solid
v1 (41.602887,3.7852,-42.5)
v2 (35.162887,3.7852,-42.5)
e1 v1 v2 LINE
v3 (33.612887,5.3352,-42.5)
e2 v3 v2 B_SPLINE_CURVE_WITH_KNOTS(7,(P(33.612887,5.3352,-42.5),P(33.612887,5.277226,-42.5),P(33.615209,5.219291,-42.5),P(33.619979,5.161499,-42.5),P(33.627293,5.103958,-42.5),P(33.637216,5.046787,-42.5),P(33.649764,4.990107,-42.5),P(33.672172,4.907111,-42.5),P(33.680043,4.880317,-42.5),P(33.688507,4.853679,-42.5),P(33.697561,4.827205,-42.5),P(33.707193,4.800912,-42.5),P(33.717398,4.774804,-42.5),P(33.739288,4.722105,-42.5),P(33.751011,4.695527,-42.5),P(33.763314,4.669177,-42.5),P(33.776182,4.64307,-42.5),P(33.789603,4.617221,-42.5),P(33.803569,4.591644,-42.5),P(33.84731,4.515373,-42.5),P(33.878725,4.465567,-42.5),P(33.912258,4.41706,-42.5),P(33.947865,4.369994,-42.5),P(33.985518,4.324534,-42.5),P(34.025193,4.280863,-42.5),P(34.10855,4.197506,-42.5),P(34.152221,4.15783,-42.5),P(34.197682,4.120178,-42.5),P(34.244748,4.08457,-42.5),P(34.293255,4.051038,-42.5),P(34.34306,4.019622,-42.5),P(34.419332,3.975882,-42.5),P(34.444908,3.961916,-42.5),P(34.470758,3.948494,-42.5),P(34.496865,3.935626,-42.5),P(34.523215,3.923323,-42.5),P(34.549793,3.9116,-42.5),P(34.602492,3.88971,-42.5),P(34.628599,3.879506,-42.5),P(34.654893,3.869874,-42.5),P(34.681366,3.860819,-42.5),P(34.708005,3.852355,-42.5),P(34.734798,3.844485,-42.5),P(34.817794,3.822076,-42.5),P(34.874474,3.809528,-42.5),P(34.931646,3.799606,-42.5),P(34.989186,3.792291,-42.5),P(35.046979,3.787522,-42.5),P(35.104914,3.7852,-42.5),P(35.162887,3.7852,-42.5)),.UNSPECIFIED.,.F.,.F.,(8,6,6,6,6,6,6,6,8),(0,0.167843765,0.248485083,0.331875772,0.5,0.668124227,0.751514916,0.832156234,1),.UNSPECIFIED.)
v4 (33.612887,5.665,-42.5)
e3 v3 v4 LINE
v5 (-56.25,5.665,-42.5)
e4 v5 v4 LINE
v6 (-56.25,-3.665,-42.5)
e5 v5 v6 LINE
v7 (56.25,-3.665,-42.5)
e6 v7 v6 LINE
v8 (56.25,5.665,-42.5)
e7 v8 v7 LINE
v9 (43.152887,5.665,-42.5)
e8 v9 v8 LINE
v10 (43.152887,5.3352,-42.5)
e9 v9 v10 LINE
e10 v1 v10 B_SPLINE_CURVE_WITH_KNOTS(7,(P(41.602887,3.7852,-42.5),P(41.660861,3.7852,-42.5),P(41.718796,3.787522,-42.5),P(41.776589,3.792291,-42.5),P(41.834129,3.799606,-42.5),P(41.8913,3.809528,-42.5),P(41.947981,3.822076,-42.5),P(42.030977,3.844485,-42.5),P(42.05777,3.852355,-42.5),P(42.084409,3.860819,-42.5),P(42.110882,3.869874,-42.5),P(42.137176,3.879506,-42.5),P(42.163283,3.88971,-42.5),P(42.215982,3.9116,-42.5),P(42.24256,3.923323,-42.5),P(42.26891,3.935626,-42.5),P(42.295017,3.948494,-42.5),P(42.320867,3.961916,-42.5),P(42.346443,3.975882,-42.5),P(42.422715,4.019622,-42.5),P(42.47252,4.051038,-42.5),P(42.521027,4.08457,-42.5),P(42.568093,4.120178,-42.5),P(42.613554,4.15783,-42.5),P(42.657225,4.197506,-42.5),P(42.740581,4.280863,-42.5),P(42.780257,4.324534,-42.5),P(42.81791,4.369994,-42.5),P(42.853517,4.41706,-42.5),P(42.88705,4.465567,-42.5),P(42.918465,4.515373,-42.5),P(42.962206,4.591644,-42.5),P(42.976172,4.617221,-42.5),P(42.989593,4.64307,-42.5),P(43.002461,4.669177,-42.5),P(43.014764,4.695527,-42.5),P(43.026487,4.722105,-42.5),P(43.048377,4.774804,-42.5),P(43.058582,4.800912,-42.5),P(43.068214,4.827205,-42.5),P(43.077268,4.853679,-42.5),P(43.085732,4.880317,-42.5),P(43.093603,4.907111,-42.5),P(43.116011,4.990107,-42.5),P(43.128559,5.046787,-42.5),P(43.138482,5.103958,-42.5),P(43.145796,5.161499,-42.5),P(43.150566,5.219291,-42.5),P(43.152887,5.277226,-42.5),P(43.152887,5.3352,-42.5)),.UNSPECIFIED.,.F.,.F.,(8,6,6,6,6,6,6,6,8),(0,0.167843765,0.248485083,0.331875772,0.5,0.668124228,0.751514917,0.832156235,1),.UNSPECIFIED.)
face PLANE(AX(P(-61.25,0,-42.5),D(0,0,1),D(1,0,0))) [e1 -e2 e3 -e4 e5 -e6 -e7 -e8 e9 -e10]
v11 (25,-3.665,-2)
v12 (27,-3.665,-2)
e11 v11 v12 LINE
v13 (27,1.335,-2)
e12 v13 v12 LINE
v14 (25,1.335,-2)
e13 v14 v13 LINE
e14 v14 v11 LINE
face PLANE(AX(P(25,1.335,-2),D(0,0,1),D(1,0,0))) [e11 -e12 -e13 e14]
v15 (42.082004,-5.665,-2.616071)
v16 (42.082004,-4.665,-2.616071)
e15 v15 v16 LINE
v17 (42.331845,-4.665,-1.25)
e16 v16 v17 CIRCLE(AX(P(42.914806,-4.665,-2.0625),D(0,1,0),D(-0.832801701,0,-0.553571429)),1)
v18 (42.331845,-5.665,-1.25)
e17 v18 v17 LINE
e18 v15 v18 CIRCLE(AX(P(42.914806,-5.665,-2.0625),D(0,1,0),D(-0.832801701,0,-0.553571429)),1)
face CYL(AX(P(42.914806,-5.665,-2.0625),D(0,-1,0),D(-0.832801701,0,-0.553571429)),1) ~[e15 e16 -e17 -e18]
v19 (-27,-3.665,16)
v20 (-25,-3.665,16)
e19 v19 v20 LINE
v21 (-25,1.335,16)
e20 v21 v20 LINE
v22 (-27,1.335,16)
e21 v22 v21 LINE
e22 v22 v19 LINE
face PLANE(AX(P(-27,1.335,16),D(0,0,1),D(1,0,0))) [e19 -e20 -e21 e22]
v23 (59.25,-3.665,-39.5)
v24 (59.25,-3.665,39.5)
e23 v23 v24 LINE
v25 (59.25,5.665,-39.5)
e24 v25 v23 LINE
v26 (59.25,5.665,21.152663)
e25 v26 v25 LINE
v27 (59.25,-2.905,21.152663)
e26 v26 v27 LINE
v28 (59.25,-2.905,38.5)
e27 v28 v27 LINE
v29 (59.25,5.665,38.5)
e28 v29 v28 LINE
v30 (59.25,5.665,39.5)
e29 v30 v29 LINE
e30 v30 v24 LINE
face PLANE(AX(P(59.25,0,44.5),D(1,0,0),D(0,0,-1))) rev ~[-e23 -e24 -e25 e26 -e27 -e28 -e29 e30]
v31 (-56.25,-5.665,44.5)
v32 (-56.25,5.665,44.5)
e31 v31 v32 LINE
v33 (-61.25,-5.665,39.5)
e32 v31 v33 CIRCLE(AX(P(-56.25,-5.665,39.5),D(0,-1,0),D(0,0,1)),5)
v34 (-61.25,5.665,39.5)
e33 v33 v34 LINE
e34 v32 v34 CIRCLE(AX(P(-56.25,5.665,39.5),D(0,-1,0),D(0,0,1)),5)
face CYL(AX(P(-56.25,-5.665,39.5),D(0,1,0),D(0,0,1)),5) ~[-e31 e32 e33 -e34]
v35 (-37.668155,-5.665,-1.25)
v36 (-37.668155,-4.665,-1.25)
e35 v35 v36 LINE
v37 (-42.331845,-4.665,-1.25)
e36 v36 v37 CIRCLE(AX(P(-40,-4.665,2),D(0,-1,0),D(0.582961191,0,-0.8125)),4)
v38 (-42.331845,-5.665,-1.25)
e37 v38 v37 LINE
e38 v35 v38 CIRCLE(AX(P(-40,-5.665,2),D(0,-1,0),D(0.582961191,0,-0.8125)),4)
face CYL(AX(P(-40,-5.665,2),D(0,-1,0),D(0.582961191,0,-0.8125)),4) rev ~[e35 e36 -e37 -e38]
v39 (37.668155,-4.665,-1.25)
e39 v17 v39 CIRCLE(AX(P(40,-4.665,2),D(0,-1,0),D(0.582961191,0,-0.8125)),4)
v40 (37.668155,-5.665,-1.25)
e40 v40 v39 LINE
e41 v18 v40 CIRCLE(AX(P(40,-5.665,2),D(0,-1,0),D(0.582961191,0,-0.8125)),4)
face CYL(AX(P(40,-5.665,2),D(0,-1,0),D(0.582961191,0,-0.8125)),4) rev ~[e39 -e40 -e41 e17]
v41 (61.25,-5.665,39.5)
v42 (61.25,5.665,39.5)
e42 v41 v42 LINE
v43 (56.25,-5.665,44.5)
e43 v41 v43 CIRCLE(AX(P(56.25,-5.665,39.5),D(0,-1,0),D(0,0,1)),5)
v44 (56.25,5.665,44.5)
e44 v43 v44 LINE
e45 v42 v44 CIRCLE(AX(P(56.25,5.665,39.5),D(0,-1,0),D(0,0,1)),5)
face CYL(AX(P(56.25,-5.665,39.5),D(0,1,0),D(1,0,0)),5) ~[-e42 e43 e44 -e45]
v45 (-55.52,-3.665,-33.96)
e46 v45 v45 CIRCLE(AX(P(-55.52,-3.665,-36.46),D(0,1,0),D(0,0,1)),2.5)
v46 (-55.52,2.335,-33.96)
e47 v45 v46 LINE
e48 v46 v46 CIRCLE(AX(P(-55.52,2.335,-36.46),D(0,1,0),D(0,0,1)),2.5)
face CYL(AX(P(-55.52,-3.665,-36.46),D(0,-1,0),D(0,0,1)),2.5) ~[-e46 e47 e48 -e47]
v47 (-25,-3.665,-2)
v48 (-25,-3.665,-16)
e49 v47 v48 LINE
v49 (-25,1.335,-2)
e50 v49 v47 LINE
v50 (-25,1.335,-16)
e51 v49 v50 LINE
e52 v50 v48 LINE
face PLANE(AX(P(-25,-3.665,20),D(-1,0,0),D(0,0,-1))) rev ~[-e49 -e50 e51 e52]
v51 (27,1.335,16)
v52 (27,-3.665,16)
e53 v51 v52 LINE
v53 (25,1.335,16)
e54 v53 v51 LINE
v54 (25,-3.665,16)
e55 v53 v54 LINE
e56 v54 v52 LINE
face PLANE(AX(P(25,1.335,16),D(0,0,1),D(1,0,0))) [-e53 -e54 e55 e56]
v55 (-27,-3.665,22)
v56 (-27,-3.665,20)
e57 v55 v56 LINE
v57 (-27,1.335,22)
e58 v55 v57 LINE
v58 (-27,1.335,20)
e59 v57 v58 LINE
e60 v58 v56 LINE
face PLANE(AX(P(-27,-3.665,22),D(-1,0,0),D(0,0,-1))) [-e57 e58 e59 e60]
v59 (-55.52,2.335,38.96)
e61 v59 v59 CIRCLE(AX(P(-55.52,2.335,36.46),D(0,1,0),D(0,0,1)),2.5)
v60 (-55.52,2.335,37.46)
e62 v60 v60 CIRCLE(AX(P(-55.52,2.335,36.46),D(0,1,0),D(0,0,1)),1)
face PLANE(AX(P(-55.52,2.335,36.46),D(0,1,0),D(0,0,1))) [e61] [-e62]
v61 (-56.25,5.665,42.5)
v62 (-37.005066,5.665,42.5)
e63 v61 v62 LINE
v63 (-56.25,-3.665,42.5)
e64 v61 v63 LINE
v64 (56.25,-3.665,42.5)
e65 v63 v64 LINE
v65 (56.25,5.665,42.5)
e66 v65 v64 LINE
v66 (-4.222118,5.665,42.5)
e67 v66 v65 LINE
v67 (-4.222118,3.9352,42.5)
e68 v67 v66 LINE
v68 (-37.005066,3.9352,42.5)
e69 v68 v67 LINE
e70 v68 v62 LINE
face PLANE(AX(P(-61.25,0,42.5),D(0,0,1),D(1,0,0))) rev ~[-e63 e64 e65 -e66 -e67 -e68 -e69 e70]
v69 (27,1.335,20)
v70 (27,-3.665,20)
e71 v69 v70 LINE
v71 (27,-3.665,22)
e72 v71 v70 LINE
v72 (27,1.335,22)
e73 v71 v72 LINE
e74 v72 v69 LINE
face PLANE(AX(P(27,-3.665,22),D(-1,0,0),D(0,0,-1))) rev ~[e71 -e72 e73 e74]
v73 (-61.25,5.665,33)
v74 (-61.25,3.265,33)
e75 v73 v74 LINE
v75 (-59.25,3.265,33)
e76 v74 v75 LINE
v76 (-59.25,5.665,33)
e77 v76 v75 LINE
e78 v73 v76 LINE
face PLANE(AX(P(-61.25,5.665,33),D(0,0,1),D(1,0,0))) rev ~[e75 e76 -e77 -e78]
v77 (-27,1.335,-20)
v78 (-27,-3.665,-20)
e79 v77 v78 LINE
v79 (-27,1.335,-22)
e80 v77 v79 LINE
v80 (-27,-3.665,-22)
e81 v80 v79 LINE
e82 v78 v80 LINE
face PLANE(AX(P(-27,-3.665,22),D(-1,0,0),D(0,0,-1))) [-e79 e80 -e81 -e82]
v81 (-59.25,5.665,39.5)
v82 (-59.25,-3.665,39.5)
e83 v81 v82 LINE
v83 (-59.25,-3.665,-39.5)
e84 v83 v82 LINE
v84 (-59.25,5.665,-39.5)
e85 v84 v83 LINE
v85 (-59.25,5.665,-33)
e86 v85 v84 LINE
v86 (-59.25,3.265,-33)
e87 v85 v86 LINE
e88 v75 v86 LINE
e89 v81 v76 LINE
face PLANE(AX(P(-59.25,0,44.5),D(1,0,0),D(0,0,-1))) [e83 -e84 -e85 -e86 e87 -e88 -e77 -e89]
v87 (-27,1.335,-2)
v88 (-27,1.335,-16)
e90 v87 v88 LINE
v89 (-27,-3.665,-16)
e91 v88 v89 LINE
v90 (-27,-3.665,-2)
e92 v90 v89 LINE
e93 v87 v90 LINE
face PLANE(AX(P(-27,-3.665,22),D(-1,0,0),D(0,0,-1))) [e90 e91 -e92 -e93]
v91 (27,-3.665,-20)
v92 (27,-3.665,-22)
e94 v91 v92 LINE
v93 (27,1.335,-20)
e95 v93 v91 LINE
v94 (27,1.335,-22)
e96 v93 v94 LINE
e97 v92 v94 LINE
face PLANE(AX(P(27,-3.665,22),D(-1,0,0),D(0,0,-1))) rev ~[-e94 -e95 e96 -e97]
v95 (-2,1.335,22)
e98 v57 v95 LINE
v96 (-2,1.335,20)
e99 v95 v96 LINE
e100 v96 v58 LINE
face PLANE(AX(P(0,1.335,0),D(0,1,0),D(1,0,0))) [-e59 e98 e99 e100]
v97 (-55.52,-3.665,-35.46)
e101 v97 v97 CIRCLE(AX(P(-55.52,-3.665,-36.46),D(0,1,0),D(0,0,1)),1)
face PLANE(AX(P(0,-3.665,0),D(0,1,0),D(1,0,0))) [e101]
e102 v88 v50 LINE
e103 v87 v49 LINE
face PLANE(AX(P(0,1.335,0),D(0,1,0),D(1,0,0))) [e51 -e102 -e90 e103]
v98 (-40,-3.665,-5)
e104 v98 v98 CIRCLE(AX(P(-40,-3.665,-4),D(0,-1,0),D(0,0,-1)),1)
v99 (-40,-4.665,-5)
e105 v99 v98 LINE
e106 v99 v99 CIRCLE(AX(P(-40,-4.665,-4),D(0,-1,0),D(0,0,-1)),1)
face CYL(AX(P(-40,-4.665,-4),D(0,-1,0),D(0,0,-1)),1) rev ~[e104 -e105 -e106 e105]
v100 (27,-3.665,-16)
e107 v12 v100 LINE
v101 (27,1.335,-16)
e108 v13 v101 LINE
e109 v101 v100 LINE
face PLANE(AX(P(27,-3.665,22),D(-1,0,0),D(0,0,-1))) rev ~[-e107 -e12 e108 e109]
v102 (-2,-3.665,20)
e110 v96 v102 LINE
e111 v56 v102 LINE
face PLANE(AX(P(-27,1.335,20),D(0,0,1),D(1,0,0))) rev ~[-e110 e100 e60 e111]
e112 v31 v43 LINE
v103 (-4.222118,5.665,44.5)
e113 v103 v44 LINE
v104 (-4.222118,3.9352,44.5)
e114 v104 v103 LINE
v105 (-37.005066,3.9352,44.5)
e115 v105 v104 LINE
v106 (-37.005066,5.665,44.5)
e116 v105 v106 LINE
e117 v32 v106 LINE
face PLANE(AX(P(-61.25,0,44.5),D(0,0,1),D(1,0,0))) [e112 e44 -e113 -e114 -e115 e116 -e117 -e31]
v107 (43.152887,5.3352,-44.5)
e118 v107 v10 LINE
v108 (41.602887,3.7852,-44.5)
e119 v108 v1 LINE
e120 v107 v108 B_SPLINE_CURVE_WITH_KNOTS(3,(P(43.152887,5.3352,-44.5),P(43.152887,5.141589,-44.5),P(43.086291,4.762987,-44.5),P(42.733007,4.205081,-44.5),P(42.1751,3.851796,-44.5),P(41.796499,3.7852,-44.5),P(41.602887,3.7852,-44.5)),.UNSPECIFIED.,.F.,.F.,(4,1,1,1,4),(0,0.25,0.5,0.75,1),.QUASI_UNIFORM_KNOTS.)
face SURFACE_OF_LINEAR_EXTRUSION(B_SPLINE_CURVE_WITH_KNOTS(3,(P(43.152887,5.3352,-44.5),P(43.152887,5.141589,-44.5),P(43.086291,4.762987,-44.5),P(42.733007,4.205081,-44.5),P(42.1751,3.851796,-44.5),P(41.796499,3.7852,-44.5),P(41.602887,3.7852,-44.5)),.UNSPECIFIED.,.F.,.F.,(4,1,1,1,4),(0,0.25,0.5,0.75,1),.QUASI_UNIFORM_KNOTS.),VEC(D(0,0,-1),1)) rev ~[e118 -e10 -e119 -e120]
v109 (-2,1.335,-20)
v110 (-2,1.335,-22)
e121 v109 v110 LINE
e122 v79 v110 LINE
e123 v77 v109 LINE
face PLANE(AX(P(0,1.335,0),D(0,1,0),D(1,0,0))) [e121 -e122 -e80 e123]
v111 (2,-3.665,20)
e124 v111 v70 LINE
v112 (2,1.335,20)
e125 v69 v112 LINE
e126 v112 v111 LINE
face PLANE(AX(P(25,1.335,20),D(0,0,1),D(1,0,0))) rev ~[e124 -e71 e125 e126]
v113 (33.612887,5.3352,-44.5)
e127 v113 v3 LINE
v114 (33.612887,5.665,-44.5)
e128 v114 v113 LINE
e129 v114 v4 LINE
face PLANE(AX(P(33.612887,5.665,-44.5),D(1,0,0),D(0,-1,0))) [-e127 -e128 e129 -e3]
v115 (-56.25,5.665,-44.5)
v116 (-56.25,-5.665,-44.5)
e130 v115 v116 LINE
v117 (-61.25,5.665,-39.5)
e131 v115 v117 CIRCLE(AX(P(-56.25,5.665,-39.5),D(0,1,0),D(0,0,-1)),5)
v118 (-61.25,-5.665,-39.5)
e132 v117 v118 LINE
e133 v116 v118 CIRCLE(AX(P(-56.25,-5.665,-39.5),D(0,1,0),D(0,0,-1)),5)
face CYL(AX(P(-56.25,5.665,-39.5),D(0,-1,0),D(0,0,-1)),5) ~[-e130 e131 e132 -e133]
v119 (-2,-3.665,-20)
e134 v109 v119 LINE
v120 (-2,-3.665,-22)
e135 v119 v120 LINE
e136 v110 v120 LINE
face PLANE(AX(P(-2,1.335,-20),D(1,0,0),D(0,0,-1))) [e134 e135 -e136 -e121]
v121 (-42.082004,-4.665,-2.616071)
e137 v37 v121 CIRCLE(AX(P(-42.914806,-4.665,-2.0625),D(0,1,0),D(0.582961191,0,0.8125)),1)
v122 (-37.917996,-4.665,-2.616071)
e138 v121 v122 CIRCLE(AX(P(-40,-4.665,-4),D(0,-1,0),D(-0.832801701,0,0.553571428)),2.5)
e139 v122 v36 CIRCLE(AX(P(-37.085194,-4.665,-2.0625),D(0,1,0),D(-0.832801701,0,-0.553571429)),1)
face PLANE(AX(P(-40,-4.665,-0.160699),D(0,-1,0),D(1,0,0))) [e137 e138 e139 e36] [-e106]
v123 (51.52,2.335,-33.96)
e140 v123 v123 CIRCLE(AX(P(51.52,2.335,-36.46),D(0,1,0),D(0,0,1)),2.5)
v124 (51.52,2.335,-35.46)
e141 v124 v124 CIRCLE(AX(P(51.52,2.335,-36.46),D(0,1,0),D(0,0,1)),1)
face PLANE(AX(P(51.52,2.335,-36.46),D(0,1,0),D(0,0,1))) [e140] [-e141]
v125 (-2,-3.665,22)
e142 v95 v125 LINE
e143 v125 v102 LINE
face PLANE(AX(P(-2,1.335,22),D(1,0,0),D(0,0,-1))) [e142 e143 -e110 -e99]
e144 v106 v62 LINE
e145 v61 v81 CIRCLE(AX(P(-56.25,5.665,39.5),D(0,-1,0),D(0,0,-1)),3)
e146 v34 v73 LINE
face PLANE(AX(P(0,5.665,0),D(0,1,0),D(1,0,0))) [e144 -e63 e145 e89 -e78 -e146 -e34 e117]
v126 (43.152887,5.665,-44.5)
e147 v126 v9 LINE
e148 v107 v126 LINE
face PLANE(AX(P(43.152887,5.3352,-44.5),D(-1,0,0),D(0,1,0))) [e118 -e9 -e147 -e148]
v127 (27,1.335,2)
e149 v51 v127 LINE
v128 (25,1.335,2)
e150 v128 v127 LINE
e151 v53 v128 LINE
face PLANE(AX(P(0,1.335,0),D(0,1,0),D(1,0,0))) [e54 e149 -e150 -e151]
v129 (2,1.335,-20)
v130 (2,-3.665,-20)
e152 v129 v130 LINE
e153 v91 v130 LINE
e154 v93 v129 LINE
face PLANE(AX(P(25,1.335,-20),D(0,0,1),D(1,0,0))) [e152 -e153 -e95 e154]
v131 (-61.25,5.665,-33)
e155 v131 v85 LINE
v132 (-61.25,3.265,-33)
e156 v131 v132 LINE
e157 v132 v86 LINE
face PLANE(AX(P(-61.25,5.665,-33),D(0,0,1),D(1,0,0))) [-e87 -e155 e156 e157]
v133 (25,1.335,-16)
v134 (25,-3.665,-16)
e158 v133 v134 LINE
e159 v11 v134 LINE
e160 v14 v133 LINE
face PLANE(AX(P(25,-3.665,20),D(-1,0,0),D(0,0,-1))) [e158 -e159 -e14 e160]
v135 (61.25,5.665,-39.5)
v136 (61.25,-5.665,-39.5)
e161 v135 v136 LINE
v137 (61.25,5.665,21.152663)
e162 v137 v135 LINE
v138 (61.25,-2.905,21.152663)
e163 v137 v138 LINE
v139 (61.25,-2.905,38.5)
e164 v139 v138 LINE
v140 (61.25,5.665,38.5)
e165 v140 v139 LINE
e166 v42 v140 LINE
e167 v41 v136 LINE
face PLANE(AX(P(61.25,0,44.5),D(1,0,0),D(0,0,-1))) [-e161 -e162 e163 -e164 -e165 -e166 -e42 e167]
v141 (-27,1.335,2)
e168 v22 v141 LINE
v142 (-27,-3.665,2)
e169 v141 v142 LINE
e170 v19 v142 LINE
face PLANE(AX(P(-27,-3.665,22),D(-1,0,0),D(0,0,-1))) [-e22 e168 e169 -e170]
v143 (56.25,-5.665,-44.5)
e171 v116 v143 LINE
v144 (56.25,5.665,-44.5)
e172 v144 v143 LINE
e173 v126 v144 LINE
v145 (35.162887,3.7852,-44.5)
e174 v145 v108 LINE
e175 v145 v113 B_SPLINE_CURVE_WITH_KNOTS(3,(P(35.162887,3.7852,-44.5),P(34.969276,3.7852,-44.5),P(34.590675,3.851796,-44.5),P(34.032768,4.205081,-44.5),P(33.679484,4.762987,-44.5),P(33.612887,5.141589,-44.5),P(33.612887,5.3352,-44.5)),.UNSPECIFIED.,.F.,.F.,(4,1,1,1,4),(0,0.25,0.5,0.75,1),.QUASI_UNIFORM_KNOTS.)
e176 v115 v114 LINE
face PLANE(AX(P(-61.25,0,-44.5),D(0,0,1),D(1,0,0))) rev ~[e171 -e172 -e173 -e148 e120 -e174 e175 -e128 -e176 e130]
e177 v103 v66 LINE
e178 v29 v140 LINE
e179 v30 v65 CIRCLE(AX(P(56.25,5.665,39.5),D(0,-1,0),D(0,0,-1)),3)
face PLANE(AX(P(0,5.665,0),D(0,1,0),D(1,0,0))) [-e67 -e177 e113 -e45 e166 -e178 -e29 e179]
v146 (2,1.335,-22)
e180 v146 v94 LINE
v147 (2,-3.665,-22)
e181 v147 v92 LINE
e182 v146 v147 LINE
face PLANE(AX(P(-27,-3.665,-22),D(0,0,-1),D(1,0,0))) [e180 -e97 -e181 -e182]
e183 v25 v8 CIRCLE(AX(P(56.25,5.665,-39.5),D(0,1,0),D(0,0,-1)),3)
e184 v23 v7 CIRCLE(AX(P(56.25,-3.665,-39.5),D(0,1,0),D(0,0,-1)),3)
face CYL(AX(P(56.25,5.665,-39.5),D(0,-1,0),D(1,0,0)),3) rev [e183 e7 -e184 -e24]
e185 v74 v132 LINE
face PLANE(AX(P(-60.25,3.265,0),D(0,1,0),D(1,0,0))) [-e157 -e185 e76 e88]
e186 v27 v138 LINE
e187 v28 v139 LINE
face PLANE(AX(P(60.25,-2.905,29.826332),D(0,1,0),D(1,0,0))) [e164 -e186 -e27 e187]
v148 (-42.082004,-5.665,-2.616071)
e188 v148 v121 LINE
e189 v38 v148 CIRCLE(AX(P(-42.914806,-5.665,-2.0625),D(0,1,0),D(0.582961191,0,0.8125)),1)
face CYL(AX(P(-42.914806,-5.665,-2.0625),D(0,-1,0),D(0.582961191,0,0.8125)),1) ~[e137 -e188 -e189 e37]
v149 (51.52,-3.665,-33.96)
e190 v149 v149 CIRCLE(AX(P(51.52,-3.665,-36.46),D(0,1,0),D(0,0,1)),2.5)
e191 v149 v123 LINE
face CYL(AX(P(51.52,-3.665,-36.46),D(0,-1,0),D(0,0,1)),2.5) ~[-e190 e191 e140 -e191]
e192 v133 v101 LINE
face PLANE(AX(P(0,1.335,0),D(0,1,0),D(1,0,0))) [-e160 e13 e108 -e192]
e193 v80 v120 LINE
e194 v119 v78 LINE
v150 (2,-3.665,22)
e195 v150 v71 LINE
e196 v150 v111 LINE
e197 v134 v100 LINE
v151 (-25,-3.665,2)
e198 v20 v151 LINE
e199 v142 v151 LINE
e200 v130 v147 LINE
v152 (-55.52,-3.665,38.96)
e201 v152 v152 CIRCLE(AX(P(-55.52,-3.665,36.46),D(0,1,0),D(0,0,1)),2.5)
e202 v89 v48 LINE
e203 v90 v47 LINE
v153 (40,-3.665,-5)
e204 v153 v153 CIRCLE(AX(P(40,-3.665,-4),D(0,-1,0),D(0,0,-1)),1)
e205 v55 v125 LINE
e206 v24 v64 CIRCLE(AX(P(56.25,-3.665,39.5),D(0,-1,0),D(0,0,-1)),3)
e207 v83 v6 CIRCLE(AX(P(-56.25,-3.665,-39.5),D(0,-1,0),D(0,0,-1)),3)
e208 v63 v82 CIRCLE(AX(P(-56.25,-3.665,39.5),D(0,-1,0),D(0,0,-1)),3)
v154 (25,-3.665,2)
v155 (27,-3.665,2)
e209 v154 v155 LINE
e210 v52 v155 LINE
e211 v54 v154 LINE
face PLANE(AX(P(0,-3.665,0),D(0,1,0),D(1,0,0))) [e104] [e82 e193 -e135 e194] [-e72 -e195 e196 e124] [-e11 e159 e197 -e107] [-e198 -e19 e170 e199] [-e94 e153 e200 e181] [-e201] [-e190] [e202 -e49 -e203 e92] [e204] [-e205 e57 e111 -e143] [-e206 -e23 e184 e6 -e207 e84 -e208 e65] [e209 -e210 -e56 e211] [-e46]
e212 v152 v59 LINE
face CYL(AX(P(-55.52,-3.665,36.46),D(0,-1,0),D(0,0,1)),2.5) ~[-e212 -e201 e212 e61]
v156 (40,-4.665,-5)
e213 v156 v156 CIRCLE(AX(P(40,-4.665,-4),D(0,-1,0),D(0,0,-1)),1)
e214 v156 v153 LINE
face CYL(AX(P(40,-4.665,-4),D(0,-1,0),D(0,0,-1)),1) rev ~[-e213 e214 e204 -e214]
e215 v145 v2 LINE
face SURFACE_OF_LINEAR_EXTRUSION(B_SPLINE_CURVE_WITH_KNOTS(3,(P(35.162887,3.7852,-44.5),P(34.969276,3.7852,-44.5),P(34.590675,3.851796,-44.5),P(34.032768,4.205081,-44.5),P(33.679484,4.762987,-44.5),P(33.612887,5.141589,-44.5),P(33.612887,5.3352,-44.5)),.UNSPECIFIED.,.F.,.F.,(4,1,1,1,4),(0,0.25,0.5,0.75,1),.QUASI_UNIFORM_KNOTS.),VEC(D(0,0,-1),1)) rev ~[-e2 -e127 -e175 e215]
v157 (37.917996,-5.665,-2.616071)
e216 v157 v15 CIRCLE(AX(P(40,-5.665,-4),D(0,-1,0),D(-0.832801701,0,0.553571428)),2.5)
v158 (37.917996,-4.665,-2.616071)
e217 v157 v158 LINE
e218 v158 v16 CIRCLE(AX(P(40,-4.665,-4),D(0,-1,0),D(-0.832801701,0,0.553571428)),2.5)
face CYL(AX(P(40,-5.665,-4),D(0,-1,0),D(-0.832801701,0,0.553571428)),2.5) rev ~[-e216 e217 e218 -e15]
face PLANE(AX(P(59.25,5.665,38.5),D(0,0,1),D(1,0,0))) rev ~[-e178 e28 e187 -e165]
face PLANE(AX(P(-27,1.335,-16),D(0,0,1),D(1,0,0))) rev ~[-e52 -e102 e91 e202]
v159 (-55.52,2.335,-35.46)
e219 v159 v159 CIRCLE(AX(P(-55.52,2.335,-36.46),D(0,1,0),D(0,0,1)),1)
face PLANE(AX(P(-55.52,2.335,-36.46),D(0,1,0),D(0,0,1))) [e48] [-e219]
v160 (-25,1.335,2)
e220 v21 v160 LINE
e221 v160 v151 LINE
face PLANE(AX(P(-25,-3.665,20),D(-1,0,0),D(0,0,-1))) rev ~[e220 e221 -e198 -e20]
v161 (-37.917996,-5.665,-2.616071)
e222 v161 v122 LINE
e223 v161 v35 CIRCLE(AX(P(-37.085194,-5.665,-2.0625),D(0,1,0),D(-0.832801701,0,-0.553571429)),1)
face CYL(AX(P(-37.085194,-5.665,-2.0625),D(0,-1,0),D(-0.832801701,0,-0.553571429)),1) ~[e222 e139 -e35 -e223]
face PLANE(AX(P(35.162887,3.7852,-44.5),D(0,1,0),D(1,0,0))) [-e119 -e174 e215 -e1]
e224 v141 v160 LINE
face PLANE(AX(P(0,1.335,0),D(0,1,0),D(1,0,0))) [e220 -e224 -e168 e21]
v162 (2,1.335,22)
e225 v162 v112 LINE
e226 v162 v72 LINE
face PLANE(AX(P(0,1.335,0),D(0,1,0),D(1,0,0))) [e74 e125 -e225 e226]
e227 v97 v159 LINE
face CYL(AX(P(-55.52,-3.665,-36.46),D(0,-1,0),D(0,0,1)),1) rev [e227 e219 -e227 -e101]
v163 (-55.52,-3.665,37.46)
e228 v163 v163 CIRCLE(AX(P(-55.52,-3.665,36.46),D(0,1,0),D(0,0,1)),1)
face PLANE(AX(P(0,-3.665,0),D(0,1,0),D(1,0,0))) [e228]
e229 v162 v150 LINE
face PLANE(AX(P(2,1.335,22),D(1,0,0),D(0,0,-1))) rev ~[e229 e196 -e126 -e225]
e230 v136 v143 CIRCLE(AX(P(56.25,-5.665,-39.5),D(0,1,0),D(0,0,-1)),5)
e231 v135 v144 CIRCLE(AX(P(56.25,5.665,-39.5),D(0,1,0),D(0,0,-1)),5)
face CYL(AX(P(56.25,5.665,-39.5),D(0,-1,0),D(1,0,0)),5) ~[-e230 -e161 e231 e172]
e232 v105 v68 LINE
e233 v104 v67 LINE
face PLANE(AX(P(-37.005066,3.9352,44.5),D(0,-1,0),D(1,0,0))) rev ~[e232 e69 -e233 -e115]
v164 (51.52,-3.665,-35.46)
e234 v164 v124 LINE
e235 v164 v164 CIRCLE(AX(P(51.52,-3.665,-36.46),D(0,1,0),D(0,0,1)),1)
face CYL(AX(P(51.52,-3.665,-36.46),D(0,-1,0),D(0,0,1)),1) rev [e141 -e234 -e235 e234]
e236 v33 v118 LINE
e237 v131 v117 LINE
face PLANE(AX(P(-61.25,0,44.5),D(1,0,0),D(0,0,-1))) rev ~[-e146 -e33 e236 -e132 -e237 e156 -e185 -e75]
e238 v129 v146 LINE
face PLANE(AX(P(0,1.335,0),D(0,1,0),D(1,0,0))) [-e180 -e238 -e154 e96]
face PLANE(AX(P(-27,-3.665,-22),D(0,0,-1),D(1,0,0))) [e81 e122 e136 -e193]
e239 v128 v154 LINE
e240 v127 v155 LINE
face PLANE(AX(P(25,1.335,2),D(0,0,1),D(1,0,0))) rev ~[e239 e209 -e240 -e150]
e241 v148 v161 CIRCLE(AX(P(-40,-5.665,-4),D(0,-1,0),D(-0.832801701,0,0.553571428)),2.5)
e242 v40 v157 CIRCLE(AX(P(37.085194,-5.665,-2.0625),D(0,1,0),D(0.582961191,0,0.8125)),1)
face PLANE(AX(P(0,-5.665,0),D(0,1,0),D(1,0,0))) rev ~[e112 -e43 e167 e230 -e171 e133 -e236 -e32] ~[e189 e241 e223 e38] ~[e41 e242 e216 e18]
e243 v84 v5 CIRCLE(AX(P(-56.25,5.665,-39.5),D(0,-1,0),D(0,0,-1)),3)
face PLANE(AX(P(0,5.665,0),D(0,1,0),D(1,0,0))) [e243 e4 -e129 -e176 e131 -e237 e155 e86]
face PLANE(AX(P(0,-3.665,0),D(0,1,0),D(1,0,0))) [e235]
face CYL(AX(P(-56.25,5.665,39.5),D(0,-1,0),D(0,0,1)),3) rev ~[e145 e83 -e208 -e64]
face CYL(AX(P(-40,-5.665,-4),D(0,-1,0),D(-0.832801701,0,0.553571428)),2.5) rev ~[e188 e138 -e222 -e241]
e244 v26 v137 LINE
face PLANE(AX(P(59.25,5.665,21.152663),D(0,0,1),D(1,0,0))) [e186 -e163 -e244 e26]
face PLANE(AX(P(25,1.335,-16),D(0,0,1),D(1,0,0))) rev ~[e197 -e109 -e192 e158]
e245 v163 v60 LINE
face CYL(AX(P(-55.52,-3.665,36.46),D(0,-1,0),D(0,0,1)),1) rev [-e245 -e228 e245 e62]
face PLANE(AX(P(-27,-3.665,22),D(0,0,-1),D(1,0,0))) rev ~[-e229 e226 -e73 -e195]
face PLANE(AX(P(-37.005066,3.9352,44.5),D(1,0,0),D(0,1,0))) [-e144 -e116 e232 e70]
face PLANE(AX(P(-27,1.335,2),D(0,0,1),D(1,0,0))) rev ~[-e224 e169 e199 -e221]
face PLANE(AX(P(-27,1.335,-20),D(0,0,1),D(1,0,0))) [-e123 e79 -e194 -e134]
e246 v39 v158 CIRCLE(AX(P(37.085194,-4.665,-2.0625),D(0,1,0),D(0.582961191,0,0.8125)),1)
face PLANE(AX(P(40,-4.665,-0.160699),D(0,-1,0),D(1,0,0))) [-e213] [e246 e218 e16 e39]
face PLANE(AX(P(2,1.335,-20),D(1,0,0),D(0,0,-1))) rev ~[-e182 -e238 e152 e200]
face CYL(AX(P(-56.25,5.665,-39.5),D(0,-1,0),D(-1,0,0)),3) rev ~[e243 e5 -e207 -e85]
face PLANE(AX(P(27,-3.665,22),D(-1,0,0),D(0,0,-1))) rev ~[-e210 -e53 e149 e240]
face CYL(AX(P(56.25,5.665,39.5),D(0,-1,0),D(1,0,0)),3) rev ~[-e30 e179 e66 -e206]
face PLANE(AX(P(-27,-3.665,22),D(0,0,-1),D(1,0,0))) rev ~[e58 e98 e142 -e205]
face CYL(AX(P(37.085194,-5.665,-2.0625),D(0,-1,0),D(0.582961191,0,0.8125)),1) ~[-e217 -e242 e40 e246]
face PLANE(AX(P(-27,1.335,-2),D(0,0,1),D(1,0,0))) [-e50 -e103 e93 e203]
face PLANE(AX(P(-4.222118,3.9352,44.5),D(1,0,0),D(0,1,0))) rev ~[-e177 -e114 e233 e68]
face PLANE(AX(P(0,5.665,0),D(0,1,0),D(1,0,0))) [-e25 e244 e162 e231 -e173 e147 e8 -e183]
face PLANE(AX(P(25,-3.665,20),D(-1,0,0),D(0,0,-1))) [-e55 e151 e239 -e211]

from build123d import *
from OCP.BRepFilletAPI import BRepFilletAPI_MakeFillet

# Parameters (mm, degrees)
SKETCH1_W           = 122.5
SKETCH1_H           = 89
BOSS_EXTRUDE1_DEPTH = 5.665
SHELL1_T            = -2
SKETCH2_R           = 2.5
SKETCH2_R_2         = 1
BOSS_EXTRUDE2_DEPTH = 6
FILLET1_R1          = 3
FILLET1_R2          = 5
SKETCH6_W           = 2
SKETCH6_H           = 66
CUT_EXTRUDE1_DEPTH  = 2.4
SKETCH7_W           = 2
SKETCH7_H           = 17.347336969
CUT_EXTRUDE2_DEPTH  = 8.57
CUT_EXTRUDE5_DEPTH  = 10
SKETCH13_W          = 32.782947734
SKETCH13_H          = 2.623502387
CUT_EXTRUDE6_DEPTH  = 10
SKETCH14_W          = 54
SKETCH14_H          = 44
SKETCH14_W_2        = 50
SKETCH14_H_2        = 40
BOSS_EXTRUDE3_DEPTH = 5
SKETCH15_W          = 2
SKETCH15_H          = 4
SKETCH15_W_2        = 4
SKETCH15_H_2        = 2
CUT_EXTRUDE7_DEPTH  = 5
CUT_EXTRUDE9_DEPTH  = 1
SKETCH17_R          = 1
CUT_EXTRUDE10_DEPTH = 1


with BuildPart() as part:
    # Sketch1 → Boss-Extrude1 (new, symmetric)
    with BuildSketch(Plane(origin=(0, 0, 0), x_dir=(1, 0, 0), z_dir=(0, 1, 0))):
        Rectangle(SKETCH1_W, SKETCH1_H)
    extrude(amount=BOSS_EXTRUDE1_DEPTH, both=True)

    # Shell1
    shell1_openings = [part.faces().sort_by_distance(p)[0] for p in [
        (0, 5.665, 0),
    ]]
    offset(amount=SHELL1_T, openings=shell1_openings, kind=Kind.INTERSECTION)

    # Sketch2 → Boss-Extrude2 (add)
    # profile 1 of 3: a face of its own
    with BuildSketch(Plane(origin=(0, -3.665, 0), x_dir=(1, 0, 0), z_dir=(0, 1, 0))):
        with Locations((-55.52, 36.46)):
            Circle(SKETCH2_R)
        with Locations((-55.52, 36.46)):
            Circle(SKETCH2_R_2, mode=Mode.SUBTRACT)
    # profile 2 of 3: a face of its own
    with BuildSketch(Plane(origin=(0, -3.665, 0), x_dir=(1, 0, 0), z_dir=(0, 1, 0))):
        with Locations((51.52, 36.46)):
            Circle(SKETCH2_R)
        with Locations((51.52, 36.46)):
            Circle(SKETCH2_R_2, mode=Mode.SUBTRACT)
    # profile 3 of 3: a face of its own
    with BuildSketch(Plane(origin=(0, -3.665, 0), x_dir=(1, 0, 0), z_dir=(0, 1, 0))):
        with Locations((-55.52, -36.46)):
            Circle(SKETCH2_R)
        with Locations((-55.52, -36.46)):
            Circle(SKETCH2_R_2, mode=Mode.SUBTRACT)
    extrude(amount=BOSS_EXTRUDE2_DEPTH)

    # Fillet1: one fillet with a radius per group of edges: ONE call of the kernel's fillet builder (fillet() takes one radius for all edges)
    fillet1_edges_1 = [part.edges().sort_by_distance(p)[0] for p in [
        (-59.25, 1, -42.5),
        (59.25, 1, -42.5),
        (59.25, 1, 42.5),
        (-59.25, 1, 42.5),
    ]]
    fillet1_edges_2 = [part.edges().sort_by_distance(p)[0] for p in [
        (-61.25, 0, -44.5),
        (61.25, 0, -44.5),
        (61.25, 0, 44.5),
        (-61.25, 0, 44.5),
    ]]
    fillet1 = BRepFilletAPI_MakeFillet(part.part.solid().wrapped)
    for e in fillet1_edges_1:
        fillet1.Add(FILLET1_R1, e.wrapped)
    for e in fillet1_edges_2:
        fillet1.Add(FILLET1_R2, e.wrapped)
    add(Compound.cast(fillet1.Shape()), mode=Mode.REPLACE)

    # Sketch6 → Cut-Extrude1 (cut)
    with BuildSketch(Plane(origin=(0, 5.665, 0), x_dir=(1, 0, 0), z_dir=(0, 1, 0))):
        with Locations((-60.25, 0)):
            Rectangle(SKETCH6_W, SKETCH6_H)
    extrude(amount=-CUT_EXTRUDE1_DEPTH, mode=Mode.SUBTRACT)

    # Sketch7 → Cut-Extrude2 (cut)
    with BuildSketch(Plane(origin=(0, 5.665, 0), x_dir=(1, 0, 0), z_dir=(0, 1, 0))):
        with Locations((60.25, -29.826331516)):
            Rectangle(SKETCH7_W, SKETCH7_H)
    extrude(amount=-CUT_EXTRUDE2_DEPTH, mode=Mode.SUBTRACT)

    # Sketch12 → Cut-Extrude5 (cut)
    with BuildSketch(Plane(origin=(0, 0, -44.5), x_dir=(-1, 0, 0), z_dir=(0, 0, -1))):
        with BuildLine():
            Line((-42.852887486, 5.665199886), (-33.912887486, 5.665199886))
            Line((-33.912887486, 5.665199886), (-33.612887486, 5.665))
            Line((-33.612887486, 5.665), (-33.612887486, 5.335199886))
            add(Edge.make_bspline(
                [(-35.162887486, 3.785199886), (-34.969276417, 3.785199886), (-34.590674628, 3.851796456), (-34.032768291, 4.205080692), (-33.679484056, 4.762987029), (-33.612887486, 5.141588818), (-33.612887486, 5.335199886)],
                knots=[0, 0, 0, 0, 0.25, 0.5, 0.75, 1, 1, 1, 1], degree=3))
            Line((-35.162887486, 3.785199886), (-41.602887486, 3.785199886))
            add(Edge.make_bspline(
                [(-43.152887486, 5.335199886), (-43.152887486, 5.141588818), (-43.086290916, 4.762987029), (-42.73300668, 4.205080692), (-42.175100343, 3.851796456), (-41.796498554, 3.785199886), (-41.602887486, 3.785199886)],
                knots=[0, 0, 0, 0, 0.25, 0.5, 0.75, 1, 1, 1, 1], degree=3))
            Line((-43.152887486, 5.335199886), (-43.152887486, 5.665))
            Line((-43.152887486, 5.665), (-42.852887486, 5.665199886))
        make_face()
    extrude(amount=-CUT_EXTRUDE5_DEPTH, mode=Mode.SUBTRACT)

    # Sketch13 → Cut-Extrude6 (cut)
    with BuildSketch(Plane.XY.offset(44.5)):
        with Locations((-20.613592251, 5.246951194)):
            Rectangle(SKETCH13_W, SKETCH13_H)
    extrude(amount=-CUT_EXTRUDE6_DEPTH, mode=Mode.SUBTRACT)

    # Sketch14 → Boss-Extrude3 (add)
    with BuildSketch(Plane(origin=(0, -3.665, 0), x_dir=(1, 0, 0), z_dir=(0, 1, 0))):
        Rectangle(SKETCH14_W, SKETCH14_H)
        Rectangle(SKETCH14_W_2, SKETCH14_H_2, mode=Mode.SUBTRACT)
    extrude(amount=BOSS_EXTRUDE3_DEPTH)

    # Sketch15 → Cut-Extrude7 (cut)
    with BuildSketch(Plane(origin=(0, 1.335, 0), x_dir=(1, 0, 0), z_dir=(0, 1, 0))):
        with Locations((-26, 18)):
            Rectangle(SKETCH15_W, SKETCH15_H)
        with Locations((-26, 0)):
            Rectangle(SKETCH15_W, SKETCH15_H)
        with Locations((-26, -18)):
            Rectangle(SKETCH15_W, SKETCH15_H)
        with Locations((26, -18)):
            Rectangle(SKETCH15_W, SKETCH15_H)
        with Locations((26, 0)):
            Rectangle(SKETCH15_W, SKETCH15_H)
        with Locations((26, 18)):
            Rectangle(SKETCH15_W, SKETCH15_H)
        with Locations((0, 21)):
            Rectangle(SKETCH15_W_2, SKETCH15_H_2)
        with Locations((0, -21)):
            Rectangle(SKETCH15_W_2, SKETCH15_H_2)
    extrude(amount=-CUT_EXTRUDE7_DEPTH, mode=Mode.SUBTRACT)

    # Sketch16 → Cut-Extrude9 (cut)
    with BuildSketch(Plane.XZ.offset(5.665)):
        with BuildLine():
            ThreePointArc((37.917995747, -2.616071429), (40, -6.5), (42.082004253, -2.616071429))
            ThreePointArc((42.082004253, -2.616071429), (41.931122098, -1.882594271), (42.331844763, -1.25))
            ThreePointArc((42.331844763, -1.25), (40, 6), (37.668155237, -1.25))
            ThreePointArc((37.668155237, -1.25), (38.068877902, -1.882594271), (37.917995747, -2.616071429))
        make_face()
        with BuildLine():
            ThreePointArc((-42.082004253, -2.616071429), (-40, -6.5), (-37.917995747, -2.616071429))
            ThreePointArc((-37.917995747, -2.616071429), (-38.068877902, -1.882594271), (-37.668155237, -1.25))
            ThreePointArc((-37.668155237, -1.25), (-40, 6), (-42.331844763, -1.25))
            ThreePointArc((-42.331844763, -1.25), (-41.931122098, -1.882594271), (-42.082004253, -2.616071429))
        make_face()
    extrude(amount=-CUT_EXTRUDE9_DEPTH, mode=Mode.SUBTRACT)

    # Sketch17 → Cut-Extrude10 (cut)
    with BuildSketch(Plane.XZ.offset(4.665)):
        with Locations((-40, -4)):
            Circle(SKETCH17_R)
        with Locations((40, -4)):
            Circle(SKETCH17_R)
    extrude(amount=-CUT_EXTRUDE10_DEPTH, mode=Mode.SUBTRACT)


solid = part.part
